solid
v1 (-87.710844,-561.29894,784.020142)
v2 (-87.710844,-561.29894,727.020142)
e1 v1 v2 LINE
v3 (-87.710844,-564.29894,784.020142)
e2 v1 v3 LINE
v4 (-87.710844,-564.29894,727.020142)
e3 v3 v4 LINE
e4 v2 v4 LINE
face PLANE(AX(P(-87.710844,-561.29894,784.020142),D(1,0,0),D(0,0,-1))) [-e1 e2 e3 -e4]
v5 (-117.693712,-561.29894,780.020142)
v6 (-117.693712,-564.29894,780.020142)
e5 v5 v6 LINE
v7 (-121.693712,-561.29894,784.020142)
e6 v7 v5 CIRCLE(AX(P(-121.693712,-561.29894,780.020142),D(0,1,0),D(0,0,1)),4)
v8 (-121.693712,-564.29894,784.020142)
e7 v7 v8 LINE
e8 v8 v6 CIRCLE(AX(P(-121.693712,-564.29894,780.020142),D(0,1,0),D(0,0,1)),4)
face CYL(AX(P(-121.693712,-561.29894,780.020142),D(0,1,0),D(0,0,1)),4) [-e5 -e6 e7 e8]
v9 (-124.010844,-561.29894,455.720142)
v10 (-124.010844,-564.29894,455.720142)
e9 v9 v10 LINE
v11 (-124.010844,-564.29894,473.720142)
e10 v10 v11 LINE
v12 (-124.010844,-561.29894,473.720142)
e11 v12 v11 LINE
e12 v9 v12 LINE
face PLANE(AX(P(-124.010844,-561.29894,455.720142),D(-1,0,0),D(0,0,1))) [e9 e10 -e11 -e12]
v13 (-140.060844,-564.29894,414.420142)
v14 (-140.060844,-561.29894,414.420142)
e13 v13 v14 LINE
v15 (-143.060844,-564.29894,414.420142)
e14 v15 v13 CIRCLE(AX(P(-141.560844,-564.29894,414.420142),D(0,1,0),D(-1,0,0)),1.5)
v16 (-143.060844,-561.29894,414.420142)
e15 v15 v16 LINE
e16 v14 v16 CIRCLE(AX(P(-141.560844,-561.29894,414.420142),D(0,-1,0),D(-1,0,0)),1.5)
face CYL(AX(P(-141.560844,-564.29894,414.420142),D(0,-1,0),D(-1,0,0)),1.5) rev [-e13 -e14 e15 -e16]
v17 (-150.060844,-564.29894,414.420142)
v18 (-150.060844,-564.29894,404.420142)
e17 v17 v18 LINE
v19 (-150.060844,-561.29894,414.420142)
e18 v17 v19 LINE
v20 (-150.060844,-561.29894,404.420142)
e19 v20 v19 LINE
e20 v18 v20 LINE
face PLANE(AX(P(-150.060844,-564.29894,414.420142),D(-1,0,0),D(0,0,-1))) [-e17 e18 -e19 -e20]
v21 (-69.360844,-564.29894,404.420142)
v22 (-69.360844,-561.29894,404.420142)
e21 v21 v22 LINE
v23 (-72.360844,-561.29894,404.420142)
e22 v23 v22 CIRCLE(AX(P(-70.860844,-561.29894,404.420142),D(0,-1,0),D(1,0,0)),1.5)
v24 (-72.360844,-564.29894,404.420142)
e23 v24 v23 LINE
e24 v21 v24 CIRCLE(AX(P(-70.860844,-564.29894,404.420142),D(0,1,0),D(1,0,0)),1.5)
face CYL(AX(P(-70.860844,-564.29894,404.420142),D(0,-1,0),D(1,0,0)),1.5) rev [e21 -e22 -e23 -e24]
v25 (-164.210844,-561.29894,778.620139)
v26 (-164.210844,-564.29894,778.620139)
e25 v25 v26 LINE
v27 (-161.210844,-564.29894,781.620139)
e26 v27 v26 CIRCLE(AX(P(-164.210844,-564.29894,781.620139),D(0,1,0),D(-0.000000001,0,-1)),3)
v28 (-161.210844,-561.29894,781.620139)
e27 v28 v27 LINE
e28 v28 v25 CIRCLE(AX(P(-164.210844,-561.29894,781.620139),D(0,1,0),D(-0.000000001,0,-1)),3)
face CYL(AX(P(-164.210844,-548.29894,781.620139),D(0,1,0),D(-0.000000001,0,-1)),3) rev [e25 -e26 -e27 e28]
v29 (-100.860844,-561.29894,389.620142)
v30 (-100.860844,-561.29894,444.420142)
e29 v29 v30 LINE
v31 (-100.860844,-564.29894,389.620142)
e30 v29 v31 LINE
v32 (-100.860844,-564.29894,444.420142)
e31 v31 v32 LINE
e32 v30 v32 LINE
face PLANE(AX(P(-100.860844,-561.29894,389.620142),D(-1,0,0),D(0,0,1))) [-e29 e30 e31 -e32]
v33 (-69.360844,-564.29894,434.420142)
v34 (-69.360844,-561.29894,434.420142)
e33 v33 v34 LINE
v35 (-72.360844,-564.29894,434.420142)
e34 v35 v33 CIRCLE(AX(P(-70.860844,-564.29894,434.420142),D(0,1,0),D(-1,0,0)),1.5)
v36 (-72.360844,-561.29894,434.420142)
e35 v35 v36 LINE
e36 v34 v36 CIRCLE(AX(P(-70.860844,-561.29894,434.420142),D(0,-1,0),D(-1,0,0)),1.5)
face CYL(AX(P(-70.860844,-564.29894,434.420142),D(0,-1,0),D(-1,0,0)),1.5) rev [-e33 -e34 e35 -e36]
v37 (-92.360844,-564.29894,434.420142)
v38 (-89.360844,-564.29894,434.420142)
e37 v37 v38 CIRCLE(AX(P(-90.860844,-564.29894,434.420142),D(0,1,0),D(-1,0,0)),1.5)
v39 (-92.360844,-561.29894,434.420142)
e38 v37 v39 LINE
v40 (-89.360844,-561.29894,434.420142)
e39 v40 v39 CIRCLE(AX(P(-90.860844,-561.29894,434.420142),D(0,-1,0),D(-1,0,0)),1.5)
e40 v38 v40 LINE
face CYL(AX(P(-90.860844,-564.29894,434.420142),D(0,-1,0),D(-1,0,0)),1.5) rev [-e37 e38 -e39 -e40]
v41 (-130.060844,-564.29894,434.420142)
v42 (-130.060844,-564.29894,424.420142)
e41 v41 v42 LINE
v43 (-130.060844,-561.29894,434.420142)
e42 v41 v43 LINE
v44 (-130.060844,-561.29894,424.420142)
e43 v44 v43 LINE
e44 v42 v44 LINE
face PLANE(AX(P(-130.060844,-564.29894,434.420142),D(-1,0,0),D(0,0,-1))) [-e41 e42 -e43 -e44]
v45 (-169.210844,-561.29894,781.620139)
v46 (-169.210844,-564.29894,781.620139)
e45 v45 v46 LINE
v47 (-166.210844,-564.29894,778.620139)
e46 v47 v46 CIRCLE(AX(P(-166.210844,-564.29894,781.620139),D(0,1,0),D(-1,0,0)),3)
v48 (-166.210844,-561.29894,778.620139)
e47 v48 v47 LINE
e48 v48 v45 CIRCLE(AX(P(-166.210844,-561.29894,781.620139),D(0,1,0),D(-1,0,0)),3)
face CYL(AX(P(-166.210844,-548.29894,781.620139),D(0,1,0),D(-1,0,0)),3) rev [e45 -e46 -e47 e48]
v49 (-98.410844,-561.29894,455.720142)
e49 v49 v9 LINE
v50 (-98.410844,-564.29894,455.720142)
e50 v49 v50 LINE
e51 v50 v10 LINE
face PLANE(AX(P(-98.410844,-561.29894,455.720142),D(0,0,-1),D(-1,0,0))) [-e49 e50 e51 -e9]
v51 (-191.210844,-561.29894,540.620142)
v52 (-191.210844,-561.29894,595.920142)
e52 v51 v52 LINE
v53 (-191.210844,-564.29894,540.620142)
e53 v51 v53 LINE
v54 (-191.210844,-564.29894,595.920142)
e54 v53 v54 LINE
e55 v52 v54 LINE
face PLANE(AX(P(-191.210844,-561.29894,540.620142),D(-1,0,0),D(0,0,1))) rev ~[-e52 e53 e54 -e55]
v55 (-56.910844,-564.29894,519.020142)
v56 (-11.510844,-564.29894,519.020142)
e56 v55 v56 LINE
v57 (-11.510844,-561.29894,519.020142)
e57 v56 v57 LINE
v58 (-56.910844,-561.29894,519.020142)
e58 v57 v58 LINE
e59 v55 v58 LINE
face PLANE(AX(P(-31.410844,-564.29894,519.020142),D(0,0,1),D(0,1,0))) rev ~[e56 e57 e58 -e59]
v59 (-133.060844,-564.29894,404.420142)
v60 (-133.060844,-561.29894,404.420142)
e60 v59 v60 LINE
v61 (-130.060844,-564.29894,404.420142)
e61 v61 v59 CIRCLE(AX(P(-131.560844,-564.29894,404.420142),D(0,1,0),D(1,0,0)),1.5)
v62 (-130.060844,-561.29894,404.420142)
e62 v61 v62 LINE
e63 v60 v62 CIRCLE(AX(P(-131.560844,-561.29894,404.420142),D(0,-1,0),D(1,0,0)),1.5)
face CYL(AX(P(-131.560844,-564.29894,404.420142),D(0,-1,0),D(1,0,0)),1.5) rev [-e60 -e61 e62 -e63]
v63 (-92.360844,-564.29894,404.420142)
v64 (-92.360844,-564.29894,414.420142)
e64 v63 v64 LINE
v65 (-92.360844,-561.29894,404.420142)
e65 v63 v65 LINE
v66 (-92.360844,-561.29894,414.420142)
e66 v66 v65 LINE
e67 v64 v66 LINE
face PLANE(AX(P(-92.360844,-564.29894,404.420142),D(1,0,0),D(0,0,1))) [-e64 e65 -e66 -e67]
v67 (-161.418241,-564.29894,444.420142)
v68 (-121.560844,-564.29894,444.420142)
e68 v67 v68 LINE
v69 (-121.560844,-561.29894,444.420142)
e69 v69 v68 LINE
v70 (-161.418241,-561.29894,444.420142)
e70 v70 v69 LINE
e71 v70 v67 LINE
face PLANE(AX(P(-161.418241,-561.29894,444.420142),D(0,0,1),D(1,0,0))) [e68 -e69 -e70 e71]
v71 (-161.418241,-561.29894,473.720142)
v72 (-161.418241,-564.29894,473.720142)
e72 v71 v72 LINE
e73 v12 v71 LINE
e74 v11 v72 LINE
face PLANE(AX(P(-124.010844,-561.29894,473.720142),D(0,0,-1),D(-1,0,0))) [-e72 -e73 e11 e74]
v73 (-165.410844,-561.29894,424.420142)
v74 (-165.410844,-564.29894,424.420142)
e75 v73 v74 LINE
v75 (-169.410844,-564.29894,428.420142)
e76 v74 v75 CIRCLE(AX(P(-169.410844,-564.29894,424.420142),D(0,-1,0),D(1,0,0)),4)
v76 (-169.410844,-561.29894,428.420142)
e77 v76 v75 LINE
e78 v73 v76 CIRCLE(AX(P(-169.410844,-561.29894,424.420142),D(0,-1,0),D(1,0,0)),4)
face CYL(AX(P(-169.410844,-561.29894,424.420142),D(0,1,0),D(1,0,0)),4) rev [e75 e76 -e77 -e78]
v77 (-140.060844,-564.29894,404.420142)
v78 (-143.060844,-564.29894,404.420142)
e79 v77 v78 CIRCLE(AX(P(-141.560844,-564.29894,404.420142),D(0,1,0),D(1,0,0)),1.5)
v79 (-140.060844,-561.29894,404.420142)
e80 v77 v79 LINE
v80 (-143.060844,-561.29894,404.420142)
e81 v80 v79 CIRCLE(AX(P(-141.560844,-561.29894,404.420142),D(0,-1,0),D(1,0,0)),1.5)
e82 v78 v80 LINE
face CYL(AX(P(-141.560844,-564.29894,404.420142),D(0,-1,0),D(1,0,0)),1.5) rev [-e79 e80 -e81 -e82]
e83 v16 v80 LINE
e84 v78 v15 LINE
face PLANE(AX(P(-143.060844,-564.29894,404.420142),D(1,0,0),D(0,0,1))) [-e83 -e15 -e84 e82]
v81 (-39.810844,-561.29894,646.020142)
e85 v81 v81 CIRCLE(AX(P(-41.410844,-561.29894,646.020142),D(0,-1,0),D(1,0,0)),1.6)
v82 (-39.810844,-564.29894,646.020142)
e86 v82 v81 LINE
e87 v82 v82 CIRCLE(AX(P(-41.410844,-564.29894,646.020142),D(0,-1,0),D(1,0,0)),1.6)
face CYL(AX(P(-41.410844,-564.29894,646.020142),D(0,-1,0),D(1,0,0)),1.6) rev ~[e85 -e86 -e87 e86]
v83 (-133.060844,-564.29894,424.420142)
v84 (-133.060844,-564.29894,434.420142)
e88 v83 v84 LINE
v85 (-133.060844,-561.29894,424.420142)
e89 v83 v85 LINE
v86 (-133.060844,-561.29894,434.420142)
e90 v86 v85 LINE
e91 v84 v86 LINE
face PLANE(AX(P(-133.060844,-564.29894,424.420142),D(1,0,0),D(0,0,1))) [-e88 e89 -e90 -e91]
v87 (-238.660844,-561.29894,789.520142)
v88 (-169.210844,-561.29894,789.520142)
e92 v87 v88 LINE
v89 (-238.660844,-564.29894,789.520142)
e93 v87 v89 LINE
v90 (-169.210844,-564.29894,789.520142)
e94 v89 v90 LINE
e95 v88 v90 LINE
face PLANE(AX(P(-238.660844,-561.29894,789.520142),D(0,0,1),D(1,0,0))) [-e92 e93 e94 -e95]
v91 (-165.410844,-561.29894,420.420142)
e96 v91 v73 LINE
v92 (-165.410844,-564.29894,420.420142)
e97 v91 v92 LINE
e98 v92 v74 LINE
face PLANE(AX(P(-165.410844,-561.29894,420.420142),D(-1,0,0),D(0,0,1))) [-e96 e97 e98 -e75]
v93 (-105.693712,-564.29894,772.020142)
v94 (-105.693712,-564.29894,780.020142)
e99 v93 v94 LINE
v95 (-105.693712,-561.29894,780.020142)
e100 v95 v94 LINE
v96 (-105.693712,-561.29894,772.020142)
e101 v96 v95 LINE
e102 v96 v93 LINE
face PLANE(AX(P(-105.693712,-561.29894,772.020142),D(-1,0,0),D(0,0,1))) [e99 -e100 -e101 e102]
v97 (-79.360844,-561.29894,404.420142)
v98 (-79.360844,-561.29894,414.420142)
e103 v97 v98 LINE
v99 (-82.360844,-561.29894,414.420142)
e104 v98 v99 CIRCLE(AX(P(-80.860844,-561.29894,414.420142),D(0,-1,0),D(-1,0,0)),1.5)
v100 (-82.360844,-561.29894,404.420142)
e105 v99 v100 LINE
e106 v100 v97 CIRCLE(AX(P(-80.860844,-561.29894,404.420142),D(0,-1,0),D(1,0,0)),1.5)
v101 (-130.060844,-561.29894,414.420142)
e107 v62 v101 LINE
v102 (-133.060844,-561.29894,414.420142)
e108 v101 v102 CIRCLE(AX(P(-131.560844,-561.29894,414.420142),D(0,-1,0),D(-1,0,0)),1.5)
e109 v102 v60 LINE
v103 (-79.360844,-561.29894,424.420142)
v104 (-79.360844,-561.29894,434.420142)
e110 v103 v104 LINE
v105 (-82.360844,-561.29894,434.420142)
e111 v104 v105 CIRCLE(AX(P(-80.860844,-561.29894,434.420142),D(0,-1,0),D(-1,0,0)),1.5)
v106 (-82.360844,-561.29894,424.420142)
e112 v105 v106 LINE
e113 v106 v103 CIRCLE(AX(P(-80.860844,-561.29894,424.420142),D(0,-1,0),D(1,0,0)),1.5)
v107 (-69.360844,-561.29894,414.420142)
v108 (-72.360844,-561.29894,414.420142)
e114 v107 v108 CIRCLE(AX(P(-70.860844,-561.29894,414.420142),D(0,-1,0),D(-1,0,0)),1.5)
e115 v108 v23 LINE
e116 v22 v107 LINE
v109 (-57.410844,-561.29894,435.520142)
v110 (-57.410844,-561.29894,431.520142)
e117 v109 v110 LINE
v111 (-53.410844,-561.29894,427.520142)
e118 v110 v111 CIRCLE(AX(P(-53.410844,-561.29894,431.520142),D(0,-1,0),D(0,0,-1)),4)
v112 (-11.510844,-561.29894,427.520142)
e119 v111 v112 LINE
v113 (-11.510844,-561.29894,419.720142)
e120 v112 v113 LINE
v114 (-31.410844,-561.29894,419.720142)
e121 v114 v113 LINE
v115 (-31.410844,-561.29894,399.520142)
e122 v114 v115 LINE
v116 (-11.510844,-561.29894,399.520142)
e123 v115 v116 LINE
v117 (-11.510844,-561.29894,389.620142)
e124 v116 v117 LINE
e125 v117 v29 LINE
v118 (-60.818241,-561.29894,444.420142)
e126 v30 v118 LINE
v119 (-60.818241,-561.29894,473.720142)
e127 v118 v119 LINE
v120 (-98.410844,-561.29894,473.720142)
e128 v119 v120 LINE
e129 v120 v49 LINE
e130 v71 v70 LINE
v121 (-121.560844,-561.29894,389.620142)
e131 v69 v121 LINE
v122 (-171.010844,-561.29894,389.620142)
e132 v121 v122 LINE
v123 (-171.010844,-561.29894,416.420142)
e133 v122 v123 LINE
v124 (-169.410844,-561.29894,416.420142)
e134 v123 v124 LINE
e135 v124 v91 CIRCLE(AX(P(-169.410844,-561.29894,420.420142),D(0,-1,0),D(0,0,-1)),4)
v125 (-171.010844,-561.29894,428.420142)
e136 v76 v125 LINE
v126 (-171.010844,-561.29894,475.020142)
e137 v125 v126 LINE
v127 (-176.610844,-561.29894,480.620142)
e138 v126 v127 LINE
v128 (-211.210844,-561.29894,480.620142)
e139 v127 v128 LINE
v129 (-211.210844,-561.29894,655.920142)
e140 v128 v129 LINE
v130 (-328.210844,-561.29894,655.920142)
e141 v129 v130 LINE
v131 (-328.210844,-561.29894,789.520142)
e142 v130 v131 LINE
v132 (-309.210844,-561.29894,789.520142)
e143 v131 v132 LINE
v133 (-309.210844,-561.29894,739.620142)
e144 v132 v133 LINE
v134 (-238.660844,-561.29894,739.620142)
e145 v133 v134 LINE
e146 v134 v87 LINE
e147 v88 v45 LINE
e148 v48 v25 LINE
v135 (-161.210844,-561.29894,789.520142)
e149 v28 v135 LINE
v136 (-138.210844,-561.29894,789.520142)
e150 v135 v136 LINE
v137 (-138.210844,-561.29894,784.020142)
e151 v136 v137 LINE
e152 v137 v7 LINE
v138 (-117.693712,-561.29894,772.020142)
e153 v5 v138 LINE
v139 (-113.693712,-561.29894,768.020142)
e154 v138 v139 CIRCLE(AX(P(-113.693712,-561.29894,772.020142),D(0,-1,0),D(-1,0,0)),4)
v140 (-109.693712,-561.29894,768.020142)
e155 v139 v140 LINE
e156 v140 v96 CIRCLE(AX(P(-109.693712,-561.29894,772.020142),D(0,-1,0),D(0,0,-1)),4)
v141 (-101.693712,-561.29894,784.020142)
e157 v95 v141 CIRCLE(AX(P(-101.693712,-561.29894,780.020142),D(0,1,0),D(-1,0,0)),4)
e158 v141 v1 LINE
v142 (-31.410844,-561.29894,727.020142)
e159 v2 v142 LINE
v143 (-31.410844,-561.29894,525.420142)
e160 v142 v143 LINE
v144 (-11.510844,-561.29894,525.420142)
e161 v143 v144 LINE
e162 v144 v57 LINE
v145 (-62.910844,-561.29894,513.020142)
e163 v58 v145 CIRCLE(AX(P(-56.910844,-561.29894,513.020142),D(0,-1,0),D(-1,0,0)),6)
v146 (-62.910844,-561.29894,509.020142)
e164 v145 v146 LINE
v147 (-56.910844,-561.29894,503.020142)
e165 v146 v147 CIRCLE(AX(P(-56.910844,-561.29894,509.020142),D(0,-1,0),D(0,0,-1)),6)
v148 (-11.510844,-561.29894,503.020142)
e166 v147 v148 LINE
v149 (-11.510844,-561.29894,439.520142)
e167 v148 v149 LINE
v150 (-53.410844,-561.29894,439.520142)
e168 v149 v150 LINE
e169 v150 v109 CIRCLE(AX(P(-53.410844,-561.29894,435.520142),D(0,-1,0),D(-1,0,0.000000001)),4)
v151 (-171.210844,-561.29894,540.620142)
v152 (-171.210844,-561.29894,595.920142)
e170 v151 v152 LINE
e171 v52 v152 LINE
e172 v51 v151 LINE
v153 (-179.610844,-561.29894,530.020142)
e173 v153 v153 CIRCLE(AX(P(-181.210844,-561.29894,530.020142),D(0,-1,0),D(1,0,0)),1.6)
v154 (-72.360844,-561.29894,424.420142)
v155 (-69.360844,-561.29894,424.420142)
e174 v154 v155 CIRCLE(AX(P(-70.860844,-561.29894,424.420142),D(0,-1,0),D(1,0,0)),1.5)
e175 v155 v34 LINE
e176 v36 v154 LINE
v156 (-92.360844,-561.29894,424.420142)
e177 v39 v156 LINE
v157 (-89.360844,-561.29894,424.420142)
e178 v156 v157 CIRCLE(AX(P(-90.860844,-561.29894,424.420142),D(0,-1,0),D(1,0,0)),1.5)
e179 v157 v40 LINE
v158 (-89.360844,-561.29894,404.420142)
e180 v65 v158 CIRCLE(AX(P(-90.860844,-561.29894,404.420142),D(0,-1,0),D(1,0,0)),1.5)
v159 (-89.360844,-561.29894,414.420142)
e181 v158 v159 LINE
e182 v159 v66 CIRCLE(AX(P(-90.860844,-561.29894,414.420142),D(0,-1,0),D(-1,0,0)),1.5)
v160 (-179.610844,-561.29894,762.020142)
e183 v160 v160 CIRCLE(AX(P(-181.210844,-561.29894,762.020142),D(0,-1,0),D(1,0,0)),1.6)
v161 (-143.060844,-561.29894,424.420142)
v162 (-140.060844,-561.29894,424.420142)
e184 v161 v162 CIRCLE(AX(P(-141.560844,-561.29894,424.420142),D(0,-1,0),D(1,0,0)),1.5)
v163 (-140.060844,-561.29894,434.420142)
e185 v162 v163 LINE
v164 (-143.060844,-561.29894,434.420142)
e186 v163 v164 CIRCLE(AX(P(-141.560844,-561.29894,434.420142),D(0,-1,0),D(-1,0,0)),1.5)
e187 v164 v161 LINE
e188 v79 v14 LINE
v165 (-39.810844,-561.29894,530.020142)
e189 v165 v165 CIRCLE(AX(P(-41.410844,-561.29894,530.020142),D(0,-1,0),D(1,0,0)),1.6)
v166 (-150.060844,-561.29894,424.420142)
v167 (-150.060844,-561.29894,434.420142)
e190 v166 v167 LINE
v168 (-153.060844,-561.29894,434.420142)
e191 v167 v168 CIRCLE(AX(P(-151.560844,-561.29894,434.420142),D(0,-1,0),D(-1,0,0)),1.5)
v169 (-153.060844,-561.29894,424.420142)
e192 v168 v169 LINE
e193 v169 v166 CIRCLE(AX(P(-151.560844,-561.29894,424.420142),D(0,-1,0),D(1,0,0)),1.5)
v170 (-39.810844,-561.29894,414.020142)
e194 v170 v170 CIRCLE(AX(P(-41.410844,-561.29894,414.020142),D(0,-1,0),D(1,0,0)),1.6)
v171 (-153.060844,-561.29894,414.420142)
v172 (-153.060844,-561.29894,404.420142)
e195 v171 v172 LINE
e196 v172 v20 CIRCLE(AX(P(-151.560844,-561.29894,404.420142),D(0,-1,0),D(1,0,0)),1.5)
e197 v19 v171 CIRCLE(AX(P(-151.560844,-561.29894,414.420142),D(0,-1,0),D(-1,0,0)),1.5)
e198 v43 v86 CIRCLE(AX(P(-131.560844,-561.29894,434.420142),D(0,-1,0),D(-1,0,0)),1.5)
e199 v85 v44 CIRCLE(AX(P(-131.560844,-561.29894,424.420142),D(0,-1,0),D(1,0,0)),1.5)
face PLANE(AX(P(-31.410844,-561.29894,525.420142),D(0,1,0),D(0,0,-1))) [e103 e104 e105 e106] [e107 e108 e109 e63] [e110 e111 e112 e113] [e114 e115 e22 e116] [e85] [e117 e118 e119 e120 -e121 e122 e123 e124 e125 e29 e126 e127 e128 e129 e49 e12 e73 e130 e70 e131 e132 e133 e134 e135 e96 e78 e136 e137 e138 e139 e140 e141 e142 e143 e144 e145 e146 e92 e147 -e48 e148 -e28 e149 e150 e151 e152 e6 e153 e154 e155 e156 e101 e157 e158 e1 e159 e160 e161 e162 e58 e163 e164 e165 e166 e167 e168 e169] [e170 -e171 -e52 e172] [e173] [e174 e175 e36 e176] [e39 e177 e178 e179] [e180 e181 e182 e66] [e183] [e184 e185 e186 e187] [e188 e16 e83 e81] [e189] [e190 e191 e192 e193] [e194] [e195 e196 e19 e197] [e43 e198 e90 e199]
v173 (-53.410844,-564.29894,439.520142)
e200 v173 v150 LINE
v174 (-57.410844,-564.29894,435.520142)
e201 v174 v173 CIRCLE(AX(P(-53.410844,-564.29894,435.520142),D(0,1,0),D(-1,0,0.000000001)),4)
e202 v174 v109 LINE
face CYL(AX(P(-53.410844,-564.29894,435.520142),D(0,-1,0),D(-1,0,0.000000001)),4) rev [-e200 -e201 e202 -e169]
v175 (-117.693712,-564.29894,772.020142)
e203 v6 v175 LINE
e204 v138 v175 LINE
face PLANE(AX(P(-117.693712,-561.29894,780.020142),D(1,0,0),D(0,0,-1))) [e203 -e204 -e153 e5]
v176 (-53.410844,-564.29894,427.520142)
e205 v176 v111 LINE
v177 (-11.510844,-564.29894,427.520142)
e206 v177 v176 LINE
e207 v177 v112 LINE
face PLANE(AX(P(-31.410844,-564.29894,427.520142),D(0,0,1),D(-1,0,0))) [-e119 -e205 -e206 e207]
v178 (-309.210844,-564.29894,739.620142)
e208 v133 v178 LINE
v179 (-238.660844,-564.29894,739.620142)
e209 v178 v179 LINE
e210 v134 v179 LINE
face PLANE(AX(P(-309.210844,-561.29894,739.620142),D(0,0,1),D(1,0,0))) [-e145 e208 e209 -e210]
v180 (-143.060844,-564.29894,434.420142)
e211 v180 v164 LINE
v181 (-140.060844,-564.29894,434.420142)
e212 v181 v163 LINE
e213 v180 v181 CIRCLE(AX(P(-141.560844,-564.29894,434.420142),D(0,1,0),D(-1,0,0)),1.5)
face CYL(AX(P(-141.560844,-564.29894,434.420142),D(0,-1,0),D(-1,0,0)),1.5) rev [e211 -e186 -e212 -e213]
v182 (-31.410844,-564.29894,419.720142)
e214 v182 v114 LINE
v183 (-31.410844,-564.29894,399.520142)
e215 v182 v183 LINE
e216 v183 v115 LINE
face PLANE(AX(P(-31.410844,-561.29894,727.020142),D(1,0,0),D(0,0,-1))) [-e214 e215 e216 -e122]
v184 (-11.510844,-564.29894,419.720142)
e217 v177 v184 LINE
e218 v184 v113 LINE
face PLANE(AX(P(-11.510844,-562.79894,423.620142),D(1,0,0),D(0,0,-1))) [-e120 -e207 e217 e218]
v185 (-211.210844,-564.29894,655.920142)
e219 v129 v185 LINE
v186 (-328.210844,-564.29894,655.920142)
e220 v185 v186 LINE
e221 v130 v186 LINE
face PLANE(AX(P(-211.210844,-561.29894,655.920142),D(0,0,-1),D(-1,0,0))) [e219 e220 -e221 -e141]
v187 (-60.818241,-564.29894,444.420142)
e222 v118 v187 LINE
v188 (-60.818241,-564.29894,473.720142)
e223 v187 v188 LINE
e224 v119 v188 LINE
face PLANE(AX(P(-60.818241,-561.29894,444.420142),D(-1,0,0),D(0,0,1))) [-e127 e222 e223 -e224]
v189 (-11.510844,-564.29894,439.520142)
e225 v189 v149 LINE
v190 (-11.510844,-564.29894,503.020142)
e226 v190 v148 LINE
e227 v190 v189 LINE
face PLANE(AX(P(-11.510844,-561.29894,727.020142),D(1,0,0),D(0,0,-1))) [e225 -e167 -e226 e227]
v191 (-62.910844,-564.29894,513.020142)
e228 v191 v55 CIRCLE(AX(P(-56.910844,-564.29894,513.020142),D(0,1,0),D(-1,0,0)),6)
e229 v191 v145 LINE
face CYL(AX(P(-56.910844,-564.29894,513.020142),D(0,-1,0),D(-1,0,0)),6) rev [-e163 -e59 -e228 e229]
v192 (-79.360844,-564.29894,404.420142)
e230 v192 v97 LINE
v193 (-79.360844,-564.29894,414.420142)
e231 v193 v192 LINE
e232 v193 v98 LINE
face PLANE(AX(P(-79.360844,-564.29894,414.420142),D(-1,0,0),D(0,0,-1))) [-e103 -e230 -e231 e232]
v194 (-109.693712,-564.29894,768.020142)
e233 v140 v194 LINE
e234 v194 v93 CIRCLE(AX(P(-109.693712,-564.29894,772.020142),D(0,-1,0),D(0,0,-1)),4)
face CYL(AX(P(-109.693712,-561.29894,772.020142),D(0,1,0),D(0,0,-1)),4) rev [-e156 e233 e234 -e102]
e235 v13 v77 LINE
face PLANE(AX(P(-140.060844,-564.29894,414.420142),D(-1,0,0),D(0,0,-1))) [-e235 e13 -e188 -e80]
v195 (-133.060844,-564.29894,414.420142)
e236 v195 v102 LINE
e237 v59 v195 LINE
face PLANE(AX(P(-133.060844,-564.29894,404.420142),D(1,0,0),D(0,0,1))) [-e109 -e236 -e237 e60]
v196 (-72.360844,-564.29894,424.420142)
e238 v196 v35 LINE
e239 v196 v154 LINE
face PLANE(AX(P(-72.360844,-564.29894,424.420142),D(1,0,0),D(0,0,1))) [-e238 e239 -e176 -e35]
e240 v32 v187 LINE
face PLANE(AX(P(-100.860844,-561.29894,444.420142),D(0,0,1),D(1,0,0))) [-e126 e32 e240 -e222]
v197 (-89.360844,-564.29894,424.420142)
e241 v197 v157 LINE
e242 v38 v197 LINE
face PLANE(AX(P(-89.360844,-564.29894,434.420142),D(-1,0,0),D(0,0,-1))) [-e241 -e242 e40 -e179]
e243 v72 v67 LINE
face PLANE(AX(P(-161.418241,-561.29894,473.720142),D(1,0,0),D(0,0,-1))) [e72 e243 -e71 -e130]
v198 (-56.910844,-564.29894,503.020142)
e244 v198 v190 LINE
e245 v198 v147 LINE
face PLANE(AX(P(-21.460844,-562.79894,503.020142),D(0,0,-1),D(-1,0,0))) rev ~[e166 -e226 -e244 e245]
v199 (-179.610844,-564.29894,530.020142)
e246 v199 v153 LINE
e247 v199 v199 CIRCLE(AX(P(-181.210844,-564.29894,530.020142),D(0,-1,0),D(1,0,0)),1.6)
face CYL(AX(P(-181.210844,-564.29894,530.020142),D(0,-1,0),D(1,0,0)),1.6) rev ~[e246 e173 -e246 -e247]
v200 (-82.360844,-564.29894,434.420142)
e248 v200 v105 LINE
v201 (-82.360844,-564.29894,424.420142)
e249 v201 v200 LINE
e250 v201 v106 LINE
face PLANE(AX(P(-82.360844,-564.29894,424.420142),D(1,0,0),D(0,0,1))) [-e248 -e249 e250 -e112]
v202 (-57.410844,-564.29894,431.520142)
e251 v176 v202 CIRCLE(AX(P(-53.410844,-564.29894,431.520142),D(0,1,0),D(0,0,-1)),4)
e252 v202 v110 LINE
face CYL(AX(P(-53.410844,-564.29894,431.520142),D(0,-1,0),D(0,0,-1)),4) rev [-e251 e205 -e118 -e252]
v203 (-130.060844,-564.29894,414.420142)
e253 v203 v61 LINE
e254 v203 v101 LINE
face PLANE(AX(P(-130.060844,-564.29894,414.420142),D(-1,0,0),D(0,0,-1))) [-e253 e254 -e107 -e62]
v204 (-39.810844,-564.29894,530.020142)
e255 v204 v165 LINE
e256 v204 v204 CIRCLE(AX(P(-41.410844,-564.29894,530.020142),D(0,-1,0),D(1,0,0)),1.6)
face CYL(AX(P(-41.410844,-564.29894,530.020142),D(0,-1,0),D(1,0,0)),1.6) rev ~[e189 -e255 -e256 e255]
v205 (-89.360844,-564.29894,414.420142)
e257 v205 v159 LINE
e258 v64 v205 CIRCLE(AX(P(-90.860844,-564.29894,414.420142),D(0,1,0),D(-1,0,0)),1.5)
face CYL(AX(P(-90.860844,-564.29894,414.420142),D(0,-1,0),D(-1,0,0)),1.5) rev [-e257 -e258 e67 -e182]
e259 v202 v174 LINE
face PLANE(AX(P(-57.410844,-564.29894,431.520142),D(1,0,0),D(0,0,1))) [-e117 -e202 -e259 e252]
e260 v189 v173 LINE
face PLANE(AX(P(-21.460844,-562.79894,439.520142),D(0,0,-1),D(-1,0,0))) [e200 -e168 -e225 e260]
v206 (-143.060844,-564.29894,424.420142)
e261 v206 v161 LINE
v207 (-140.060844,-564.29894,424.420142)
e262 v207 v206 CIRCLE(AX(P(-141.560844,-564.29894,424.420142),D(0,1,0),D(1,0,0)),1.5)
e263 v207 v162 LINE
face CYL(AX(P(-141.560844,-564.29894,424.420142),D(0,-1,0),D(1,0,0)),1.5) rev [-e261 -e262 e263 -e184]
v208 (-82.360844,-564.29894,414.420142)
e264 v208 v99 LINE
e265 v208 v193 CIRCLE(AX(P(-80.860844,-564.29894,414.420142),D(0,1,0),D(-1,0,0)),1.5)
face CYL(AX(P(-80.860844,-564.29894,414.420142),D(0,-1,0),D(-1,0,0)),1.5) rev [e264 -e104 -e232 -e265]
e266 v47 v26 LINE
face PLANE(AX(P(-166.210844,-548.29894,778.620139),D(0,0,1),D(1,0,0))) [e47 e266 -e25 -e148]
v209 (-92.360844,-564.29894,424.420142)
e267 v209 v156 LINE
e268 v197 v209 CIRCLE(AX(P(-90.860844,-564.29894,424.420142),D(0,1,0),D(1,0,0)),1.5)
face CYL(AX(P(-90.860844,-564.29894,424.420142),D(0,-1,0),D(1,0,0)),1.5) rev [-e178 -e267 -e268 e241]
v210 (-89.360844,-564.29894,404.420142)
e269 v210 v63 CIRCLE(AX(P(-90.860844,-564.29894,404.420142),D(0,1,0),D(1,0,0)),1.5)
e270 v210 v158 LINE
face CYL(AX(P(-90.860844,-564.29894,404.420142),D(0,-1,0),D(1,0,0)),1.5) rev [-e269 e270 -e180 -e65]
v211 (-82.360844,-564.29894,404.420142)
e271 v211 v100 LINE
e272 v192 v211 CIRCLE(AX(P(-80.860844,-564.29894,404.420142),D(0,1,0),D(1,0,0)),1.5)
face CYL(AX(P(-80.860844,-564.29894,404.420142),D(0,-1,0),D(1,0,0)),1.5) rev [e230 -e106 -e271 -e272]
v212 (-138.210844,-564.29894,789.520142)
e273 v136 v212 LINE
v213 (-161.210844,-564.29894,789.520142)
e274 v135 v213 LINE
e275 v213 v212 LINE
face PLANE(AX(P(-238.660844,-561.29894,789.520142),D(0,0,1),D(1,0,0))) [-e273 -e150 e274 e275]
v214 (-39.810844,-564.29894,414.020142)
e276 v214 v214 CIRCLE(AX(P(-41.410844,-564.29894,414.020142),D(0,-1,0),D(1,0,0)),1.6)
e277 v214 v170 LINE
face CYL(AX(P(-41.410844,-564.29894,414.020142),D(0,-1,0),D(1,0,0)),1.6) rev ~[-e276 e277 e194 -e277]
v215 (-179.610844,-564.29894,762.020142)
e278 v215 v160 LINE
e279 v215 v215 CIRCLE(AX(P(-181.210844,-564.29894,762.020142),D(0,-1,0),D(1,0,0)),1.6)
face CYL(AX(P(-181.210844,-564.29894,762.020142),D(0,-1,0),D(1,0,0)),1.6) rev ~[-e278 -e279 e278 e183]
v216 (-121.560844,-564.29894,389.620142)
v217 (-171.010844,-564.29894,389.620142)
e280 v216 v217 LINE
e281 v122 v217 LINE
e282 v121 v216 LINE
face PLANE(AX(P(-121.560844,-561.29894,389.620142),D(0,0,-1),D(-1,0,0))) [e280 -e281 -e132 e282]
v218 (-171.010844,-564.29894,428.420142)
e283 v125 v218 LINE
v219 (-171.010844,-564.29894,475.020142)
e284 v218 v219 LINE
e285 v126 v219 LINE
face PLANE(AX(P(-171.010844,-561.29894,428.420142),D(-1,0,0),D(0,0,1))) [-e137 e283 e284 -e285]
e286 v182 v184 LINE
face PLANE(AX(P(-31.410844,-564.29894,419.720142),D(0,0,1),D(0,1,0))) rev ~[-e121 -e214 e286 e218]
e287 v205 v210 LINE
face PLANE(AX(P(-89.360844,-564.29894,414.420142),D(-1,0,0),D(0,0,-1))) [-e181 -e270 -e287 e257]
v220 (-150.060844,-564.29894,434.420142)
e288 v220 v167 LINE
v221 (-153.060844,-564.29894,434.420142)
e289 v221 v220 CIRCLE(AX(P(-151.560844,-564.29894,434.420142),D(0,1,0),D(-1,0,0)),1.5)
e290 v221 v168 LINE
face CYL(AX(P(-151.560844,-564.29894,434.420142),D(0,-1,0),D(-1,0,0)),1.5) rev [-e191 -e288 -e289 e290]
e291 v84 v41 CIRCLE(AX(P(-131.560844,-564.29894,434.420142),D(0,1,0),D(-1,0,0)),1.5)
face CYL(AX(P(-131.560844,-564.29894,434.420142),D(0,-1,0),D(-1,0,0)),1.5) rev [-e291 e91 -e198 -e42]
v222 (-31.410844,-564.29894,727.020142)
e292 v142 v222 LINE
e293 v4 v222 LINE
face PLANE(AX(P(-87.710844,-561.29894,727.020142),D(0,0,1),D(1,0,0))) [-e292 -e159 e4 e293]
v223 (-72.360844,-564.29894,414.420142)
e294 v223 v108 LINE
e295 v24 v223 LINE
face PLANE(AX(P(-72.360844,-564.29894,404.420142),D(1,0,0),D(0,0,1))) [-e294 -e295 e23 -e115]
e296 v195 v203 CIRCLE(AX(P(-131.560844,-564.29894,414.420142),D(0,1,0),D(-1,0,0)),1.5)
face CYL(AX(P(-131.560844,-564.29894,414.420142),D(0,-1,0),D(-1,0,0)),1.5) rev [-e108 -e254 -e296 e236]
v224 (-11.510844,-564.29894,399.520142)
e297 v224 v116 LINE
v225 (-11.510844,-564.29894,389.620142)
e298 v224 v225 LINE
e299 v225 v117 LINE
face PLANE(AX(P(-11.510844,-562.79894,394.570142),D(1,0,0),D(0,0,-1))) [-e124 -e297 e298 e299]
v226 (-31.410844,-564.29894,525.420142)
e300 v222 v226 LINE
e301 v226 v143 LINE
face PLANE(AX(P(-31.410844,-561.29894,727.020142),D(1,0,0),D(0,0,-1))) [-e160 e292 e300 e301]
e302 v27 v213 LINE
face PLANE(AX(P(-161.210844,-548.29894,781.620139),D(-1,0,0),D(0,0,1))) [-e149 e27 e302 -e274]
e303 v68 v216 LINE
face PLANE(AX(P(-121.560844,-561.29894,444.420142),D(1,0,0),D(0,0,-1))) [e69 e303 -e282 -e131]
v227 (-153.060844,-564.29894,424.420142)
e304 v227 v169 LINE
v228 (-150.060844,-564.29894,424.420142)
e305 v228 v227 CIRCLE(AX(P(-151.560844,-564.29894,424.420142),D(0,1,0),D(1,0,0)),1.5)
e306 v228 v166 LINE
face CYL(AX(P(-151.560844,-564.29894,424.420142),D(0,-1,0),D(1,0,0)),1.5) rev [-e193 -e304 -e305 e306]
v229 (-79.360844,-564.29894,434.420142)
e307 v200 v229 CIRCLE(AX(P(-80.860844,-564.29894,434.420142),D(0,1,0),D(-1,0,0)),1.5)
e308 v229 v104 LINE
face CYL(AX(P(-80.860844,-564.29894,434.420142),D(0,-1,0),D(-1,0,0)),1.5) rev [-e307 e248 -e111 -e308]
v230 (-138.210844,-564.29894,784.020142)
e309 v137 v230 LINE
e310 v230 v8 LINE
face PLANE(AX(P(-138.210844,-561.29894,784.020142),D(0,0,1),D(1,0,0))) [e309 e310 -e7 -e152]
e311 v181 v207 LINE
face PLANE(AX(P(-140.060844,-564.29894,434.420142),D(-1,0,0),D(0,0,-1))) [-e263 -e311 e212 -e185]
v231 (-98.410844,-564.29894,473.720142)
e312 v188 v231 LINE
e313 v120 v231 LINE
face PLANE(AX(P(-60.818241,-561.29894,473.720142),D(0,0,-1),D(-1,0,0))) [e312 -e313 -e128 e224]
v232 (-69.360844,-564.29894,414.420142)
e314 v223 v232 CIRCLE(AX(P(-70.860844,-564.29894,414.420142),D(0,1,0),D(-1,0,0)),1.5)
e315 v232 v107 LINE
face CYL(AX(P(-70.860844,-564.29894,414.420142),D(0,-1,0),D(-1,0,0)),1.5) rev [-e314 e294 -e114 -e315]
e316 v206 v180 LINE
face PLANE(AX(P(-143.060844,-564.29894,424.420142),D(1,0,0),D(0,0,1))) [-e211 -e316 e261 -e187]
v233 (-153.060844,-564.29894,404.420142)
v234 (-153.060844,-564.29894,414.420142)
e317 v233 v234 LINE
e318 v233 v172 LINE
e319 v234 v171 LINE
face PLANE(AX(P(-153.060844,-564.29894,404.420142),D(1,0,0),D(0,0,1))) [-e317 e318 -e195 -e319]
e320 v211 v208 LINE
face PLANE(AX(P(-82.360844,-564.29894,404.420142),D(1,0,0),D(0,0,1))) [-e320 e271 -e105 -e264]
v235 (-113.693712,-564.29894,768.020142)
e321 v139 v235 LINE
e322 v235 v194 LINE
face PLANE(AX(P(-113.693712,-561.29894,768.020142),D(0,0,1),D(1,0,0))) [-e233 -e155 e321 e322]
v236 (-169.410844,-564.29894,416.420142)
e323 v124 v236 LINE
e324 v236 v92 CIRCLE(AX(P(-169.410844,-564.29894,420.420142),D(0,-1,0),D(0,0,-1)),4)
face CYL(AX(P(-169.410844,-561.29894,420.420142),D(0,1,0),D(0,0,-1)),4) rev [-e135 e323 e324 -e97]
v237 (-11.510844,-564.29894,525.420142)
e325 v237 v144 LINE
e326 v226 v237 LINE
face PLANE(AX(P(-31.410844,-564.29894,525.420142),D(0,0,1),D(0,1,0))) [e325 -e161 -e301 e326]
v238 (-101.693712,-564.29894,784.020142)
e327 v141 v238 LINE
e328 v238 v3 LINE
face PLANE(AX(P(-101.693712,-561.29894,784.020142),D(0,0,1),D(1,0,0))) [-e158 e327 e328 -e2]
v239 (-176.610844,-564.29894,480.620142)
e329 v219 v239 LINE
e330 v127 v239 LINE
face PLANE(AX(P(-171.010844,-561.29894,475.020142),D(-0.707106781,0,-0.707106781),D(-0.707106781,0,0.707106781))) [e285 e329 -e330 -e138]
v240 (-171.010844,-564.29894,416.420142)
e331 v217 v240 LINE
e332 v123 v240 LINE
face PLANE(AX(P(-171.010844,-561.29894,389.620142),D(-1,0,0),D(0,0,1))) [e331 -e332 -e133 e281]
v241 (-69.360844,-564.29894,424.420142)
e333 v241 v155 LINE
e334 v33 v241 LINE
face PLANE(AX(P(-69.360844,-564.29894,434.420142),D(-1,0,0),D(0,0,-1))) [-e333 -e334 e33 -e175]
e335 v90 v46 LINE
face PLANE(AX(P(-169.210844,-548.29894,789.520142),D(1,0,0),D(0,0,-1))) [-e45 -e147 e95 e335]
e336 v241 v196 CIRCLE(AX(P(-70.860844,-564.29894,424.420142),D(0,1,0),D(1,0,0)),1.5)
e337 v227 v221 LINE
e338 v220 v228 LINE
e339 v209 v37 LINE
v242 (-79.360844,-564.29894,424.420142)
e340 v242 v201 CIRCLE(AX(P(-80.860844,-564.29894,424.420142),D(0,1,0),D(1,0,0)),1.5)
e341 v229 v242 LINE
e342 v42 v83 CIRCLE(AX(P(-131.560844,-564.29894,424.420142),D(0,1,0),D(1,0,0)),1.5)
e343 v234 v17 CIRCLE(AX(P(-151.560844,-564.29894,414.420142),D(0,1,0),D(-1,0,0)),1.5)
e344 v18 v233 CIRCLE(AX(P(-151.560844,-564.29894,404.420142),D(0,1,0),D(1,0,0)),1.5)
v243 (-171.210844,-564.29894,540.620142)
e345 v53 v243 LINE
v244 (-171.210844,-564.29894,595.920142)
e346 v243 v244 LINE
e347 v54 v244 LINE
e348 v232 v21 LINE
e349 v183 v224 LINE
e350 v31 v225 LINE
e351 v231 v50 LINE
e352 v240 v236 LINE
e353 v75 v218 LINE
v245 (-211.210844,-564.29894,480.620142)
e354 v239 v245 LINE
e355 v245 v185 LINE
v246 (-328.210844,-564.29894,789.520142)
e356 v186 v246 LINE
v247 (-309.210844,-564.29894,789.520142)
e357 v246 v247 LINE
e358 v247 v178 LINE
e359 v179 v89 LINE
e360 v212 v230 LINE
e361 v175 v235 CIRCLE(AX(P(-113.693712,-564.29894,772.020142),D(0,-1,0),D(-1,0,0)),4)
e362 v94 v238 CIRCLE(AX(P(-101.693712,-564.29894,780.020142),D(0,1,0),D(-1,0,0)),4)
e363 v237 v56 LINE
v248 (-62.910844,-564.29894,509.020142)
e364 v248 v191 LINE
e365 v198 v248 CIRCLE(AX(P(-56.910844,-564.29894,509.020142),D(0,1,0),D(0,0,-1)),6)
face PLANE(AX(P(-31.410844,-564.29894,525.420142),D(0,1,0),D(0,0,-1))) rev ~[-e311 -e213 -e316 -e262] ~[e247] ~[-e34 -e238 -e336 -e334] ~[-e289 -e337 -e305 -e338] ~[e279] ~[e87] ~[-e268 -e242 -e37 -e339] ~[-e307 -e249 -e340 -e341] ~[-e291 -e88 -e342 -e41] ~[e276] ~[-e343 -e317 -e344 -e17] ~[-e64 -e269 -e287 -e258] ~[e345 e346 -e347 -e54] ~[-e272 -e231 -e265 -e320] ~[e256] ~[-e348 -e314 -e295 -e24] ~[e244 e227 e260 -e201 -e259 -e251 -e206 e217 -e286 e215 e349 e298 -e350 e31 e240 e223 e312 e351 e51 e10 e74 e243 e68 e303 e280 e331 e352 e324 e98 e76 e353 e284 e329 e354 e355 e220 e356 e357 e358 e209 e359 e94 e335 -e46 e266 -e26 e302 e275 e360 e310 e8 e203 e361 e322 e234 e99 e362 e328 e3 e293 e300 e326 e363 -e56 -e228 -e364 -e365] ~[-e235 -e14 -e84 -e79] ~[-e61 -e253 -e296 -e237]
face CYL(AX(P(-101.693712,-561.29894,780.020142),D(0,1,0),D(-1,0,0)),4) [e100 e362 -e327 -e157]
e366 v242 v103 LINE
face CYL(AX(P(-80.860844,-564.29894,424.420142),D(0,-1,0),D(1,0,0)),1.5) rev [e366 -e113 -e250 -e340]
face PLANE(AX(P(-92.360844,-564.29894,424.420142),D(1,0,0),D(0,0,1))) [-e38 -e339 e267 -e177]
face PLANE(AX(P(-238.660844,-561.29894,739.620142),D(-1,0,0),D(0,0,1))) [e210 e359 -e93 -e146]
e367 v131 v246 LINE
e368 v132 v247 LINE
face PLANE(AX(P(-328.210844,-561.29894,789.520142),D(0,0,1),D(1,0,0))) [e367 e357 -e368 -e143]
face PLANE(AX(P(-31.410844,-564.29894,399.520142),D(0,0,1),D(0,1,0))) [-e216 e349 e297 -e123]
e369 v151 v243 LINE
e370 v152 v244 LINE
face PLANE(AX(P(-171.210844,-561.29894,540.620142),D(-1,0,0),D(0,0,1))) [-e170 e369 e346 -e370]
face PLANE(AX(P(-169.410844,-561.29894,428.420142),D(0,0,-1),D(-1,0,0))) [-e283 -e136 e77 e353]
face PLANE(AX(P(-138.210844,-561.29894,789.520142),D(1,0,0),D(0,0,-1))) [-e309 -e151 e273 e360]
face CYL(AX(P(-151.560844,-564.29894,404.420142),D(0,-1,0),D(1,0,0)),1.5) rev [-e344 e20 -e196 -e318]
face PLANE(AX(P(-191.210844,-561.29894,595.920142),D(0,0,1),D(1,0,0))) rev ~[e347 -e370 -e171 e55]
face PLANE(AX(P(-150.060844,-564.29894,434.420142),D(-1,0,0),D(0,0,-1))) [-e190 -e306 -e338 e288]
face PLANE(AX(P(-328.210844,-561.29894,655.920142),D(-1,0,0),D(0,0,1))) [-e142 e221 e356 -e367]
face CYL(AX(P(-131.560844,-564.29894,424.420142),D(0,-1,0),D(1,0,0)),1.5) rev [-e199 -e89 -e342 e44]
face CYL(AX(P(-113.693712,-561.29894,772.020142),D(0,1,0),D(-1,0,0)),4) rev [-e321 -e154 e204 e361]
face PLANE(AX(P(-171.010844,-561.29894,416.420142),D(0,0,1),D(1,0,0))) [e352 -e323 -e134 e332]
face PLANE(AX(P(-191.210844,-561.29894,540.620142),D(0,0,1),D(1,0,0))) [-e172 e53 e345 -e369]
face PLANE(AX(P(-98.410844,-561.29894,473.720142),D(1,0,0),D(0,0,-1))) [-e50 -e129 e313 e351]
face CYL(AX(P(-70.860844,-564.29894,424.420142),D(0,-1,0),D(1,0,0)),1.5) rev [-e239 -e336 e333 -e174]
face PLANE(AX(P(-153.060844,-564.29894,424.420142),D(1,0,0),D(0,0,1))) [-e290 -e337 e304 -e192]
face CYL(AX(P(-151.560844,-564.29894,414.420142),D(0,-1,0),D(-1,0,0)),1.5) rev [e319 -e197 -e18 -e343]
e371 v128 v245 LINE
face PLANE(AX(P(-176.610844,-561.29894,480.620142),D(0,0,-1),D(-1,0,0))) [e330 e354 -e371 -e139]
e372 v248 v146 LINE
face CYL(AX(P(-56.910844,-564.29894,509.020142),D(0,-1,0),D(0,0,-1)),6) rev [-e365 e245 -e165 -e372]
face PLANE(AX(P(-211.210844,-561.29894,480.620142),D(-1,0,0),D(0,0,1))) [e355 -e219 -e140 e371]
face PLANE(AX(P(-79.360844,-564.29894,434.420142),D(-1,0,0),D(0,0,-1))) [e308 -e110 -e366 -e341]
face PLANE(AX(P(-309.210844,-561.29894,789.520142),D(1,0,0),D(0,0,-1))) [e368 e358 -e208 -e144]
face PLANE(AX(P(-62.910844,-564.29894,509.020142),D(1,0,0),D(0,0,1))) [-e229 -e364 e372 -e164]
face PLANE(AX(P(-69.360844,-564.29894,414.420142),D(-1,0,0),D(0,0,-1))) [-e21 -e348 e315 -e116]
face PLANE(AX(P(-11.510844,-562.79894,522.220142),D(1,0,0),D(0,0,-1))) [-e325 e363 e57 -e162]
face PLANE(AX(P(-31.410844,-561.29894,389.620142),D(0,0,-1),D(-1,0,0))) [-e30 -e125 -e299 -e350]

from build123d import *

# Parameters (mm, degrees)
SKETCH1_W           = 20
SKETCH1_H           = 55.3
BOSS_EXTRUDE1_DEPTH = 3
CUT_EXTRUDE1_DEPTH  = 28
SKETCH3_R           = 1.6
CUT_EXTRUDE2_DEPTH  = 10
CUT_EXTRUDE3_DEPTH  = 10
CUT_EXTRUDE4_DEPTH  = 10
THICKEN1_T1         = 19.9
SKETCH7_W           = 6.4
SKETCH7_H           = 3
SKETCH7_W_2         = 7.8
SKETCH7_W_3         = 9.9
BOSS_EXTRUDE3_DEPTH = 19.9


with BuildPart() as part:
    # Sketch1 → Boss-Extrude1 (new body)
    with BuildSketch(Plane.XZ.offset(561.298939869)):
        with BuildLine():
            Line((-328.210843614, 789.520141885), (-309.210843614, 789.520141885))
            Line((-309.210843614, 789.520141885), (-309.210843614, 739.620141885))
            Line((-309.210843614, 739.620141885), (-238.660843614, 739.620141885))
            Line((-238.660843614, 739.620141885), (-238.660843614, 789.520141885))
            Line((-238.660843614, 789.520141885), (-138.210843614, 789.520141885))
            Line((-138.210843614, 789.520141885), (-138.210843614, 786.020141885))
            Line((-138.210843614, 786.020141885), (-138.210843614, 784.020141885))
            Line((-138.210843614, 784.020141885), (-121.693711685, 784.020141885))
            ThreePointArc((-121.693711685, 784.020141885), (-118.86528456, 782.848569009), (-117.693711685, 780.020141885))
            Line((-117.693711685, 780.020141885), (-117.693711685, 772.020141885))
            ThreePointArc((-117.693711685, 772.020141885), (-116.52213881, 769.19171476), (-113.693711685, 768.020141885))
            Line((-113.693711685, 768.020141885), (-109.693711685, 768.020141885))
            ThreePointArc((-109.693711685, 768.020141885), (-106.86528456, 769.19171476), (-105.693711685, 772.020141885))
            Line((-105.693711685, 772.020141885), (-105.693711685, 780.020141885))
            ThreePointArc((-105.693711685, 780.020141885), (-104.52213881, 782.848569009), (-101.693711685, 784.020141885))
            Line((-101.693711685, 784.020141885), (-87.710843614, 784.020141885))
            Line((-87.710843614, 784.020141885), (-87.710843614, 727.020141885))
            Line((-87.710843614, 727.020141885), (-31.410843614, 727.020141885))
            Line((-31.410843614, 727.020141885), (-31.410843614, 555.620141885))
            Line((-31.410843614, 555.620141885), (-31.410843614, 480.920141885))
            Line((-31.410843614, 480.920141885), (-31.410843614, 389.620141885))
            Line((-31.410843614, 389.620141885), (-60.710843614, 389.620141885))
            Line((-60.710843614, 389.620141885), (-100.860843614, 389.620141885))
            Line((-100.860843614, 389.620141885), (-100.860843614, 444.420141885))
            Line((-100.860843614, 444.420141885), (-60.818241118, 444.420141885))
            Line((-60.818241118, 444.420141885), (-60.818241118, 473.720141885))
            Line((-60.818241118, 473.720141885), (-98.410843614, 473.720141885))
            Line((-98.410843614, 473.720141885), (-98.410843614, 455.720141885))
            Line((-98.410843614, 455.720141885), (-124.010843614, 455.720141885))
            Line((-124.010843614, 455.720141885), (-124.010843614, 473.720141885))
            Line((-124.010843614, 473.720141885), (-161.418241118, 473.720141885))
            Line((-161.418241118, 473.720141885), (-161.418241118, 444.420141885))
            Line((-161.418241118, 444.420141885), (-121.560843614, 444.420141885))
            Line((-121.560843614, 444.420141885), (-121.560843614, 389.620141885))
            Line((-121.560843614, 389.620141885), (-161.410843614, 389.620141885))
            Line((-161.410843614, 389.620141885), (-171.010843614, 389.620141885))
            Line((-171.010843614, 389.620141885), (-171.010843614, 416.420141885))
            Line((-171.010843614, 416.420141885), (-169.410843614, 416.420141885))
            ThreePointArc((-169.410843614, 416.420141885), (-166.582416489, 417.59171476), (-165.410843614, 420.420141885))
            Line((-165.410843614, 420.420141885), (-165.410843614, 424.420141885))
            ThreePointArc((-165.410843614, 424.420141885), (-166.582416489, 427.248569009), (-169.410843614, 428.420141885))
            Line((-169.410843614, 428.420141885), (-171.010843614, 428.420141885))
            Line((-171.010843614, 428.420141885), (-171.010843614, 473.620141885))
            Line((-171.010843614, 473.620141885), (-171.010843614, 475.020141885))
            Line((-171.010843614, 475.020141885), (-176.610843614, 480.620141885))
            Line((-176.610843614, 480.620141885), (-191.210843614, 480.620141885))
            Line((-191.210843614, 480.620141885), (-211.210843614, 480.620141885))
            Line((-211.210843614, 480.620141885), (-211.210843614, 530.620141885))
            Line((-211.210843614, 530.620141885), (-211.210843614, 605.920141885))
            Line((-211.210843614, 605.920141885), (-211.210843614, 655.920141885))
            Line((-211.210843614, 655.920141885), (-328.210843614, 655.920141885))
            Line((-328.210843614, 655.920141885), (-328.210843614, 789.520141885))
        make_face()
        with Locations((-181.210843614, 568.270141885)):
            Rectangle(SKETCH1_W, SKETCH1_H, mode=Mode.SUBTRACT)
    extrude(amount=BOSS_EXTRUDE1_DEPTH)

    # Sketch2 → Cut-Extrude1 (cut)
    with BuildSketch(Plane(origin=(0, -548.298939869, 0), x_dir=(1, 0, 0), z_dir=(0, 1, 0))):
        with BuildLine():
            Line((-169.210843614, -786.620139379), (-169.210843614, -781.620139379))
            ThreePointArc((-169.210843614, -781.620139379), (-168.332163957, -779.498819035), (-166.210843614, -778.620139379))
            Line((-166.210843614, -778.620139379), (-164.210843614, -778.620139379))
            ThreePointArc((-164.210843614, -778.620139379), (-162.08952327, -779.498819035), (-161.210843614, -781.620139379))
            Line((-161.210843614, -781.620139379), (-161.210843614, -786.620139379))
            Line((-161.210843614, -786.620139379), (-161.210843614, -789.520141885))
            Line((-161.210843614, -789.520141885), (-169.210843614, -789.520141885))
            Line((-169.210843614, -789.520141885), (-169.210843614, -786.620139379))
        make_face()
        Polygon((-53.210843614, -786.620139379), (-61.210843614, -786.620139379), (-61.210843614, -778.620139379), (-61.210843614, -766.620139379), (-53.210843614, -766.620139379), (-53.210843614, -778.620139379), align=None)
    extrude(amount=-CUT_EXTRUDE1_DEPTH, mode=Mode.SUBTRACT)

    # Sketch3 → Cut-Extrude2 (cut)
    with BuildSketch(Plane.XZ.offset(564.298939869)):
        with Locations((-41.410843614, 646.020141885)):
            Circle(SKETCH3_R)
        with Locations((-41.410843614, 530.020141885)):
            Circle(SKETCH3_R)
        with Locations((-201.210843614, 876.282996741)):
            Circle(SKETCH3_R)
        with Locations((-181.210843614, 530.020141885)):
            Circle(SKETCH3_R)
        with Locations((-41.410843614, 414.020141885)):
            Circle(SKETCH3_R)
        with Locations((-181.210843614, 762.020141885)):
            Circle(SKETCH3_R)
    extrude(amount=-CUT_EXTRUDE2_DEPTH, mode=Mode.SUBTRACT)

    # Sketch4 → Cut-Extrude3 (cut)
    with BuildSketch(Plane.XZ.offset(564.298939869)):
        with BuildLine():
            Line((-56.910843614, 519.020141885), (-51.410843614, 519.020141885))
            Line((-51.410843614, 519.020141885), (-31.410843614, 519.020141885))
            Line((-31.410843614, 519.020141885), (-31.410843614, 503.020141885))
            Line((-31.410843614, 503.020141885), (-52.910843614, 503.020141885))
            Line((-52.910843614, 503.020141885), (-56.910843614, 503.020141885))
            ThreePointArc((-56.910843614, 503.020141885), (-61.153484301, 504.777501198), (-62.910843614, 509.020141885))
            Line((-62.910843614, 509.020141885), (-62.910843614, 513.020141885))
            ThreePointArc((-62.910843614, 513.020141885), (-61.153484301, 517.262782572), (-56.910843614, 519.020141885))
        make_face()
        with BuildLine():
            Line((-31.410843614, 427.520141885), (-53.410843614, 427.520141885))
            ThreePointArc((-53.410843614, 427.520141885), (-56.239270738, 428.69171476), (-57.410843614, 431.520141885))
            Line((-57.410843614, 431.520141885), (-57.410843614, 435.520141885))
            ThreePointArc((-57.410843614, 435.520141885), (-56.239270738, 438.348569009), (-53.410843614, 439.520141885))
            Line((-53.410843614, 439.520141885), (-31.410843614, 439.520141885))
            Line((-31.410843614, 439.520141885), (-31.410843614, 427.520141885))
        make_face()
    extrude(amount=-CUT_EXTRUDE3_DEPTH, mode=Mode.SUBTRACT)

    # Sketch5 → Cut-Extrude4 (cut)
    with BuildSketch(Plane.XZ.offset(564.298939869)):
        with BuildLine():
            Line((-130.060843614, 434.420141885), (-130.060843614, 424.420141885))
            ThreePointArc((-130.060843614, 424.420141885), (-131.560843614, 422.920141885), (-133.060843614, 424.420141885))
            Line((-133.060843614, 424.420141885), (-133.060843614, 434.420141885))
            ThreePointArc((-133.060843614, 434.420141885), (-131.560843614, 435.920141885), (-130.060843614, 434.420141885))
        make_face()
        with BuildLine():
            Line((-140.060843614, 434.420141885), (-140.060843614, 424.420141885))
            ThreePointArc((-140.060843614, 424.420141885), (-141.560843614, 422.920141885), (-143.060843614, 424.420141885))
            Line((-143.060843614, 424.420141885), (-143.060843614, 434.420141885))
            ThreePointArc((-143.060843614, 434.420141885), (-141.560843614, 435.920141885), (-140.060843614, 434.420141885))
        make_face()
        with BuildLine():
            Line((-150.060843614, 434.420141885), (-150.060843614, 424.420141885))
            ThreePointArc((-150.060843614, 424.420141885), (-151.560843614, 422.920141885), (-153.060843614, 424.420141885))
            Line((-153.060843614, 424.420141885), (-153.060843614, 434.420141885))
            ThreePointArc((-153.060843614, 434.420141885), (-151.560843614, 435.920141885), (-150.060843614, 434.420141885))
        make_face()
        with BuildLine():
            Line((-140.060843614, 414.420141885), (-140.060843614, 404.420141885))
            ThreePointArc((-140.060843614, 404.420141885), (-141.560843614, 402.920141885), (-143.060843614, 404.420141885))
            Line((-143.060843614, 404.420141885), (-143.060843614, 414.420141885))
            ThreePointArc((-143.060843614, 414.420141885), (-141.560843614, 415.920141885), (-140.060843614, 414.420141885))
        make_face()
        with BuildLine():
            Line((-150.060843614, 414.420141885), (-150.060843614, 404.420141885))
            ThreePointArc((-150.060843614, 404.420141885), (-151.560843614, 402.920141885), (-153.060843614, 404.420141885))
            Line((-153.060843614, 404.420141885), (-153.060843614, 414.420141885))
            ThreePointArc((-153.060843614, 414.420141885), (-151.560843614, 415.920141885), (-150.060843614, 414.420141885))
        make_face()
        with BuildLine():
            Line((-130.060843614, 414.420141885), (-130.060843614, 404.420141885))
            ThreePointArc((-130.060843614, 404.420141885), (-131.560843614, 402.920141885), (-133.060843614, 404.420141885))
            Line((-133.060843614, 404.420141885), (-133.060843614, 414.420141885))
            ThreePointArc((-133.060843614, 414.420141885), (-131.560843614, 415.920141885), (-130.060843614, 414.420141885))
        make_face()
        with BuildLine():
            Line((-69.360843614, 434.420141885), (-69.360843614, 424.420141885))
            ThreePointArc((-69.360843614, 424.420141885), (-70.860843614, 422.920141885), (-72.360843614, 424.420141885))
            Line((-72.360843614, 424.420141885), (-72.360843614, 434.420141885))
            ThreePointArc((-72.360843614, 434.420141885), (-70.860843614, 435.920141885), (-69.360843614, 434.420141885))
        make_face()
        with BuildLine():
            Line((-79.360843614, 434.420141885), (-79.360843614, 424.420141885))
            ThreePointArc((-79.360843614, 424.420141885), (-80.860843614, 422.920141885), (-82.360843614, 424.420141885))
            Line((-82.360843614, 424.420141885), (-82.360843614, 434.420141885))
            ThreePointArc((-82.360843614, 434.420141885), (-80.860843614, 435.920141885), (-79.360843614, 434.420141885))
        make_face()
        with BuildLine():
            Line((-89.360843614, 434.420141885), (-89.360843614, 424.420141885))
            ThreePointArc((-89.360843614, 424.420141885), (-90.860843614, 422.920141885), (-92.360843614, 424.420141885))
            Line((-92.360843614, 424.420141885), (-92.360843614, 434.420141885))
            ThreePointArc((-92.360843614, 434.420141885), (-90.860843614, 435.920141885), (-89.360843614, 434.420141885))
        make_face()
        with BuildLine():
            Line((-79.360843614, 414.420141885), (-79.360843614, 404.420141885))
            ThreePointArc((-79.360843614, 404.420141885), (-80.860843614, 402.920141885), (-82.360843614, 404.420141885))
            Line((-82.360843614, 404.420141885), (-82.360843614, 414.420141885))
            ThreePointArc((-82.360843614, 414.420141885), (-80.860843614, 415.920141885), (-79.360843614, 414.420141885))
        make_face()
        with BuildLine():
            Line((-89.360843614, 414.420141885), (-89.360843614, 404.420141885))
            ThreePointArc((-89.360843614, 404.420141885), (-90.860843614, 402.920141885), (-92.360843614, 404.420141885))
            Line((-92.360843614, 404.420141885), (-92.360843614, 414.420141885))
            ThreePointArc((-92.360843614, 414.420141885), (-90.860843614, 415.920141885), (-89.360843614, 414.420141885))
        make_face()
        with BuildLine():
            Line((-69.360843614, 414.420141885), (-69.360843614, 404.420141885))
            ThreePointArc((-69.360843614, 404.420141885), (-70.860843614, 402.920141885), (-72.360843614, 404.420141885))
            Line((-72.360843614, 404.420141885), (-72.360843614, 414.420141885))
            ThreePointArc((-72.360843614, 414.420141885), (-70.860843614, 415.920141885), (-69.360843614, 414.420141885))
        make_face()
    extrude(amount=-CUT_EXTRUDE4_DEPTH, mode=Mode.SUBTRACT)

    # Surface-Offset1: a surface, a copy of 1 face of the part
    surface_offset1_1 = part.part.faces().sort_by_distance((-31.410843614, -562.798939869, 471.270141885))[0]
    add(Solid.thicken(surface_offset1_1, THICKEN1_T1))

    # Sketch7 → Boss-Extrude3 (add)
    with BuildSketch(Plane(origin=(-31.410843614, 0, 0), x_dir=(0, 0, -1), z_dir=(1, 0, 0))):
        with Locations((-522.220141885, -562.798939869)):
            Rectangle(SKETCH7_W, SKETCH7_H)
        with Locations((-423.620141885, -562.798939869)):
            Rectangle(SKETCH7_W_2, SKETCH7_H)
        with Locations((-394.570141885, -562.798939869)):
            Rectangle(SKETCH7_W_3, SKETCH7_H)
    extrude(amount=BOSS_EXTRUDE3_DEPTH)


solid = part.part
